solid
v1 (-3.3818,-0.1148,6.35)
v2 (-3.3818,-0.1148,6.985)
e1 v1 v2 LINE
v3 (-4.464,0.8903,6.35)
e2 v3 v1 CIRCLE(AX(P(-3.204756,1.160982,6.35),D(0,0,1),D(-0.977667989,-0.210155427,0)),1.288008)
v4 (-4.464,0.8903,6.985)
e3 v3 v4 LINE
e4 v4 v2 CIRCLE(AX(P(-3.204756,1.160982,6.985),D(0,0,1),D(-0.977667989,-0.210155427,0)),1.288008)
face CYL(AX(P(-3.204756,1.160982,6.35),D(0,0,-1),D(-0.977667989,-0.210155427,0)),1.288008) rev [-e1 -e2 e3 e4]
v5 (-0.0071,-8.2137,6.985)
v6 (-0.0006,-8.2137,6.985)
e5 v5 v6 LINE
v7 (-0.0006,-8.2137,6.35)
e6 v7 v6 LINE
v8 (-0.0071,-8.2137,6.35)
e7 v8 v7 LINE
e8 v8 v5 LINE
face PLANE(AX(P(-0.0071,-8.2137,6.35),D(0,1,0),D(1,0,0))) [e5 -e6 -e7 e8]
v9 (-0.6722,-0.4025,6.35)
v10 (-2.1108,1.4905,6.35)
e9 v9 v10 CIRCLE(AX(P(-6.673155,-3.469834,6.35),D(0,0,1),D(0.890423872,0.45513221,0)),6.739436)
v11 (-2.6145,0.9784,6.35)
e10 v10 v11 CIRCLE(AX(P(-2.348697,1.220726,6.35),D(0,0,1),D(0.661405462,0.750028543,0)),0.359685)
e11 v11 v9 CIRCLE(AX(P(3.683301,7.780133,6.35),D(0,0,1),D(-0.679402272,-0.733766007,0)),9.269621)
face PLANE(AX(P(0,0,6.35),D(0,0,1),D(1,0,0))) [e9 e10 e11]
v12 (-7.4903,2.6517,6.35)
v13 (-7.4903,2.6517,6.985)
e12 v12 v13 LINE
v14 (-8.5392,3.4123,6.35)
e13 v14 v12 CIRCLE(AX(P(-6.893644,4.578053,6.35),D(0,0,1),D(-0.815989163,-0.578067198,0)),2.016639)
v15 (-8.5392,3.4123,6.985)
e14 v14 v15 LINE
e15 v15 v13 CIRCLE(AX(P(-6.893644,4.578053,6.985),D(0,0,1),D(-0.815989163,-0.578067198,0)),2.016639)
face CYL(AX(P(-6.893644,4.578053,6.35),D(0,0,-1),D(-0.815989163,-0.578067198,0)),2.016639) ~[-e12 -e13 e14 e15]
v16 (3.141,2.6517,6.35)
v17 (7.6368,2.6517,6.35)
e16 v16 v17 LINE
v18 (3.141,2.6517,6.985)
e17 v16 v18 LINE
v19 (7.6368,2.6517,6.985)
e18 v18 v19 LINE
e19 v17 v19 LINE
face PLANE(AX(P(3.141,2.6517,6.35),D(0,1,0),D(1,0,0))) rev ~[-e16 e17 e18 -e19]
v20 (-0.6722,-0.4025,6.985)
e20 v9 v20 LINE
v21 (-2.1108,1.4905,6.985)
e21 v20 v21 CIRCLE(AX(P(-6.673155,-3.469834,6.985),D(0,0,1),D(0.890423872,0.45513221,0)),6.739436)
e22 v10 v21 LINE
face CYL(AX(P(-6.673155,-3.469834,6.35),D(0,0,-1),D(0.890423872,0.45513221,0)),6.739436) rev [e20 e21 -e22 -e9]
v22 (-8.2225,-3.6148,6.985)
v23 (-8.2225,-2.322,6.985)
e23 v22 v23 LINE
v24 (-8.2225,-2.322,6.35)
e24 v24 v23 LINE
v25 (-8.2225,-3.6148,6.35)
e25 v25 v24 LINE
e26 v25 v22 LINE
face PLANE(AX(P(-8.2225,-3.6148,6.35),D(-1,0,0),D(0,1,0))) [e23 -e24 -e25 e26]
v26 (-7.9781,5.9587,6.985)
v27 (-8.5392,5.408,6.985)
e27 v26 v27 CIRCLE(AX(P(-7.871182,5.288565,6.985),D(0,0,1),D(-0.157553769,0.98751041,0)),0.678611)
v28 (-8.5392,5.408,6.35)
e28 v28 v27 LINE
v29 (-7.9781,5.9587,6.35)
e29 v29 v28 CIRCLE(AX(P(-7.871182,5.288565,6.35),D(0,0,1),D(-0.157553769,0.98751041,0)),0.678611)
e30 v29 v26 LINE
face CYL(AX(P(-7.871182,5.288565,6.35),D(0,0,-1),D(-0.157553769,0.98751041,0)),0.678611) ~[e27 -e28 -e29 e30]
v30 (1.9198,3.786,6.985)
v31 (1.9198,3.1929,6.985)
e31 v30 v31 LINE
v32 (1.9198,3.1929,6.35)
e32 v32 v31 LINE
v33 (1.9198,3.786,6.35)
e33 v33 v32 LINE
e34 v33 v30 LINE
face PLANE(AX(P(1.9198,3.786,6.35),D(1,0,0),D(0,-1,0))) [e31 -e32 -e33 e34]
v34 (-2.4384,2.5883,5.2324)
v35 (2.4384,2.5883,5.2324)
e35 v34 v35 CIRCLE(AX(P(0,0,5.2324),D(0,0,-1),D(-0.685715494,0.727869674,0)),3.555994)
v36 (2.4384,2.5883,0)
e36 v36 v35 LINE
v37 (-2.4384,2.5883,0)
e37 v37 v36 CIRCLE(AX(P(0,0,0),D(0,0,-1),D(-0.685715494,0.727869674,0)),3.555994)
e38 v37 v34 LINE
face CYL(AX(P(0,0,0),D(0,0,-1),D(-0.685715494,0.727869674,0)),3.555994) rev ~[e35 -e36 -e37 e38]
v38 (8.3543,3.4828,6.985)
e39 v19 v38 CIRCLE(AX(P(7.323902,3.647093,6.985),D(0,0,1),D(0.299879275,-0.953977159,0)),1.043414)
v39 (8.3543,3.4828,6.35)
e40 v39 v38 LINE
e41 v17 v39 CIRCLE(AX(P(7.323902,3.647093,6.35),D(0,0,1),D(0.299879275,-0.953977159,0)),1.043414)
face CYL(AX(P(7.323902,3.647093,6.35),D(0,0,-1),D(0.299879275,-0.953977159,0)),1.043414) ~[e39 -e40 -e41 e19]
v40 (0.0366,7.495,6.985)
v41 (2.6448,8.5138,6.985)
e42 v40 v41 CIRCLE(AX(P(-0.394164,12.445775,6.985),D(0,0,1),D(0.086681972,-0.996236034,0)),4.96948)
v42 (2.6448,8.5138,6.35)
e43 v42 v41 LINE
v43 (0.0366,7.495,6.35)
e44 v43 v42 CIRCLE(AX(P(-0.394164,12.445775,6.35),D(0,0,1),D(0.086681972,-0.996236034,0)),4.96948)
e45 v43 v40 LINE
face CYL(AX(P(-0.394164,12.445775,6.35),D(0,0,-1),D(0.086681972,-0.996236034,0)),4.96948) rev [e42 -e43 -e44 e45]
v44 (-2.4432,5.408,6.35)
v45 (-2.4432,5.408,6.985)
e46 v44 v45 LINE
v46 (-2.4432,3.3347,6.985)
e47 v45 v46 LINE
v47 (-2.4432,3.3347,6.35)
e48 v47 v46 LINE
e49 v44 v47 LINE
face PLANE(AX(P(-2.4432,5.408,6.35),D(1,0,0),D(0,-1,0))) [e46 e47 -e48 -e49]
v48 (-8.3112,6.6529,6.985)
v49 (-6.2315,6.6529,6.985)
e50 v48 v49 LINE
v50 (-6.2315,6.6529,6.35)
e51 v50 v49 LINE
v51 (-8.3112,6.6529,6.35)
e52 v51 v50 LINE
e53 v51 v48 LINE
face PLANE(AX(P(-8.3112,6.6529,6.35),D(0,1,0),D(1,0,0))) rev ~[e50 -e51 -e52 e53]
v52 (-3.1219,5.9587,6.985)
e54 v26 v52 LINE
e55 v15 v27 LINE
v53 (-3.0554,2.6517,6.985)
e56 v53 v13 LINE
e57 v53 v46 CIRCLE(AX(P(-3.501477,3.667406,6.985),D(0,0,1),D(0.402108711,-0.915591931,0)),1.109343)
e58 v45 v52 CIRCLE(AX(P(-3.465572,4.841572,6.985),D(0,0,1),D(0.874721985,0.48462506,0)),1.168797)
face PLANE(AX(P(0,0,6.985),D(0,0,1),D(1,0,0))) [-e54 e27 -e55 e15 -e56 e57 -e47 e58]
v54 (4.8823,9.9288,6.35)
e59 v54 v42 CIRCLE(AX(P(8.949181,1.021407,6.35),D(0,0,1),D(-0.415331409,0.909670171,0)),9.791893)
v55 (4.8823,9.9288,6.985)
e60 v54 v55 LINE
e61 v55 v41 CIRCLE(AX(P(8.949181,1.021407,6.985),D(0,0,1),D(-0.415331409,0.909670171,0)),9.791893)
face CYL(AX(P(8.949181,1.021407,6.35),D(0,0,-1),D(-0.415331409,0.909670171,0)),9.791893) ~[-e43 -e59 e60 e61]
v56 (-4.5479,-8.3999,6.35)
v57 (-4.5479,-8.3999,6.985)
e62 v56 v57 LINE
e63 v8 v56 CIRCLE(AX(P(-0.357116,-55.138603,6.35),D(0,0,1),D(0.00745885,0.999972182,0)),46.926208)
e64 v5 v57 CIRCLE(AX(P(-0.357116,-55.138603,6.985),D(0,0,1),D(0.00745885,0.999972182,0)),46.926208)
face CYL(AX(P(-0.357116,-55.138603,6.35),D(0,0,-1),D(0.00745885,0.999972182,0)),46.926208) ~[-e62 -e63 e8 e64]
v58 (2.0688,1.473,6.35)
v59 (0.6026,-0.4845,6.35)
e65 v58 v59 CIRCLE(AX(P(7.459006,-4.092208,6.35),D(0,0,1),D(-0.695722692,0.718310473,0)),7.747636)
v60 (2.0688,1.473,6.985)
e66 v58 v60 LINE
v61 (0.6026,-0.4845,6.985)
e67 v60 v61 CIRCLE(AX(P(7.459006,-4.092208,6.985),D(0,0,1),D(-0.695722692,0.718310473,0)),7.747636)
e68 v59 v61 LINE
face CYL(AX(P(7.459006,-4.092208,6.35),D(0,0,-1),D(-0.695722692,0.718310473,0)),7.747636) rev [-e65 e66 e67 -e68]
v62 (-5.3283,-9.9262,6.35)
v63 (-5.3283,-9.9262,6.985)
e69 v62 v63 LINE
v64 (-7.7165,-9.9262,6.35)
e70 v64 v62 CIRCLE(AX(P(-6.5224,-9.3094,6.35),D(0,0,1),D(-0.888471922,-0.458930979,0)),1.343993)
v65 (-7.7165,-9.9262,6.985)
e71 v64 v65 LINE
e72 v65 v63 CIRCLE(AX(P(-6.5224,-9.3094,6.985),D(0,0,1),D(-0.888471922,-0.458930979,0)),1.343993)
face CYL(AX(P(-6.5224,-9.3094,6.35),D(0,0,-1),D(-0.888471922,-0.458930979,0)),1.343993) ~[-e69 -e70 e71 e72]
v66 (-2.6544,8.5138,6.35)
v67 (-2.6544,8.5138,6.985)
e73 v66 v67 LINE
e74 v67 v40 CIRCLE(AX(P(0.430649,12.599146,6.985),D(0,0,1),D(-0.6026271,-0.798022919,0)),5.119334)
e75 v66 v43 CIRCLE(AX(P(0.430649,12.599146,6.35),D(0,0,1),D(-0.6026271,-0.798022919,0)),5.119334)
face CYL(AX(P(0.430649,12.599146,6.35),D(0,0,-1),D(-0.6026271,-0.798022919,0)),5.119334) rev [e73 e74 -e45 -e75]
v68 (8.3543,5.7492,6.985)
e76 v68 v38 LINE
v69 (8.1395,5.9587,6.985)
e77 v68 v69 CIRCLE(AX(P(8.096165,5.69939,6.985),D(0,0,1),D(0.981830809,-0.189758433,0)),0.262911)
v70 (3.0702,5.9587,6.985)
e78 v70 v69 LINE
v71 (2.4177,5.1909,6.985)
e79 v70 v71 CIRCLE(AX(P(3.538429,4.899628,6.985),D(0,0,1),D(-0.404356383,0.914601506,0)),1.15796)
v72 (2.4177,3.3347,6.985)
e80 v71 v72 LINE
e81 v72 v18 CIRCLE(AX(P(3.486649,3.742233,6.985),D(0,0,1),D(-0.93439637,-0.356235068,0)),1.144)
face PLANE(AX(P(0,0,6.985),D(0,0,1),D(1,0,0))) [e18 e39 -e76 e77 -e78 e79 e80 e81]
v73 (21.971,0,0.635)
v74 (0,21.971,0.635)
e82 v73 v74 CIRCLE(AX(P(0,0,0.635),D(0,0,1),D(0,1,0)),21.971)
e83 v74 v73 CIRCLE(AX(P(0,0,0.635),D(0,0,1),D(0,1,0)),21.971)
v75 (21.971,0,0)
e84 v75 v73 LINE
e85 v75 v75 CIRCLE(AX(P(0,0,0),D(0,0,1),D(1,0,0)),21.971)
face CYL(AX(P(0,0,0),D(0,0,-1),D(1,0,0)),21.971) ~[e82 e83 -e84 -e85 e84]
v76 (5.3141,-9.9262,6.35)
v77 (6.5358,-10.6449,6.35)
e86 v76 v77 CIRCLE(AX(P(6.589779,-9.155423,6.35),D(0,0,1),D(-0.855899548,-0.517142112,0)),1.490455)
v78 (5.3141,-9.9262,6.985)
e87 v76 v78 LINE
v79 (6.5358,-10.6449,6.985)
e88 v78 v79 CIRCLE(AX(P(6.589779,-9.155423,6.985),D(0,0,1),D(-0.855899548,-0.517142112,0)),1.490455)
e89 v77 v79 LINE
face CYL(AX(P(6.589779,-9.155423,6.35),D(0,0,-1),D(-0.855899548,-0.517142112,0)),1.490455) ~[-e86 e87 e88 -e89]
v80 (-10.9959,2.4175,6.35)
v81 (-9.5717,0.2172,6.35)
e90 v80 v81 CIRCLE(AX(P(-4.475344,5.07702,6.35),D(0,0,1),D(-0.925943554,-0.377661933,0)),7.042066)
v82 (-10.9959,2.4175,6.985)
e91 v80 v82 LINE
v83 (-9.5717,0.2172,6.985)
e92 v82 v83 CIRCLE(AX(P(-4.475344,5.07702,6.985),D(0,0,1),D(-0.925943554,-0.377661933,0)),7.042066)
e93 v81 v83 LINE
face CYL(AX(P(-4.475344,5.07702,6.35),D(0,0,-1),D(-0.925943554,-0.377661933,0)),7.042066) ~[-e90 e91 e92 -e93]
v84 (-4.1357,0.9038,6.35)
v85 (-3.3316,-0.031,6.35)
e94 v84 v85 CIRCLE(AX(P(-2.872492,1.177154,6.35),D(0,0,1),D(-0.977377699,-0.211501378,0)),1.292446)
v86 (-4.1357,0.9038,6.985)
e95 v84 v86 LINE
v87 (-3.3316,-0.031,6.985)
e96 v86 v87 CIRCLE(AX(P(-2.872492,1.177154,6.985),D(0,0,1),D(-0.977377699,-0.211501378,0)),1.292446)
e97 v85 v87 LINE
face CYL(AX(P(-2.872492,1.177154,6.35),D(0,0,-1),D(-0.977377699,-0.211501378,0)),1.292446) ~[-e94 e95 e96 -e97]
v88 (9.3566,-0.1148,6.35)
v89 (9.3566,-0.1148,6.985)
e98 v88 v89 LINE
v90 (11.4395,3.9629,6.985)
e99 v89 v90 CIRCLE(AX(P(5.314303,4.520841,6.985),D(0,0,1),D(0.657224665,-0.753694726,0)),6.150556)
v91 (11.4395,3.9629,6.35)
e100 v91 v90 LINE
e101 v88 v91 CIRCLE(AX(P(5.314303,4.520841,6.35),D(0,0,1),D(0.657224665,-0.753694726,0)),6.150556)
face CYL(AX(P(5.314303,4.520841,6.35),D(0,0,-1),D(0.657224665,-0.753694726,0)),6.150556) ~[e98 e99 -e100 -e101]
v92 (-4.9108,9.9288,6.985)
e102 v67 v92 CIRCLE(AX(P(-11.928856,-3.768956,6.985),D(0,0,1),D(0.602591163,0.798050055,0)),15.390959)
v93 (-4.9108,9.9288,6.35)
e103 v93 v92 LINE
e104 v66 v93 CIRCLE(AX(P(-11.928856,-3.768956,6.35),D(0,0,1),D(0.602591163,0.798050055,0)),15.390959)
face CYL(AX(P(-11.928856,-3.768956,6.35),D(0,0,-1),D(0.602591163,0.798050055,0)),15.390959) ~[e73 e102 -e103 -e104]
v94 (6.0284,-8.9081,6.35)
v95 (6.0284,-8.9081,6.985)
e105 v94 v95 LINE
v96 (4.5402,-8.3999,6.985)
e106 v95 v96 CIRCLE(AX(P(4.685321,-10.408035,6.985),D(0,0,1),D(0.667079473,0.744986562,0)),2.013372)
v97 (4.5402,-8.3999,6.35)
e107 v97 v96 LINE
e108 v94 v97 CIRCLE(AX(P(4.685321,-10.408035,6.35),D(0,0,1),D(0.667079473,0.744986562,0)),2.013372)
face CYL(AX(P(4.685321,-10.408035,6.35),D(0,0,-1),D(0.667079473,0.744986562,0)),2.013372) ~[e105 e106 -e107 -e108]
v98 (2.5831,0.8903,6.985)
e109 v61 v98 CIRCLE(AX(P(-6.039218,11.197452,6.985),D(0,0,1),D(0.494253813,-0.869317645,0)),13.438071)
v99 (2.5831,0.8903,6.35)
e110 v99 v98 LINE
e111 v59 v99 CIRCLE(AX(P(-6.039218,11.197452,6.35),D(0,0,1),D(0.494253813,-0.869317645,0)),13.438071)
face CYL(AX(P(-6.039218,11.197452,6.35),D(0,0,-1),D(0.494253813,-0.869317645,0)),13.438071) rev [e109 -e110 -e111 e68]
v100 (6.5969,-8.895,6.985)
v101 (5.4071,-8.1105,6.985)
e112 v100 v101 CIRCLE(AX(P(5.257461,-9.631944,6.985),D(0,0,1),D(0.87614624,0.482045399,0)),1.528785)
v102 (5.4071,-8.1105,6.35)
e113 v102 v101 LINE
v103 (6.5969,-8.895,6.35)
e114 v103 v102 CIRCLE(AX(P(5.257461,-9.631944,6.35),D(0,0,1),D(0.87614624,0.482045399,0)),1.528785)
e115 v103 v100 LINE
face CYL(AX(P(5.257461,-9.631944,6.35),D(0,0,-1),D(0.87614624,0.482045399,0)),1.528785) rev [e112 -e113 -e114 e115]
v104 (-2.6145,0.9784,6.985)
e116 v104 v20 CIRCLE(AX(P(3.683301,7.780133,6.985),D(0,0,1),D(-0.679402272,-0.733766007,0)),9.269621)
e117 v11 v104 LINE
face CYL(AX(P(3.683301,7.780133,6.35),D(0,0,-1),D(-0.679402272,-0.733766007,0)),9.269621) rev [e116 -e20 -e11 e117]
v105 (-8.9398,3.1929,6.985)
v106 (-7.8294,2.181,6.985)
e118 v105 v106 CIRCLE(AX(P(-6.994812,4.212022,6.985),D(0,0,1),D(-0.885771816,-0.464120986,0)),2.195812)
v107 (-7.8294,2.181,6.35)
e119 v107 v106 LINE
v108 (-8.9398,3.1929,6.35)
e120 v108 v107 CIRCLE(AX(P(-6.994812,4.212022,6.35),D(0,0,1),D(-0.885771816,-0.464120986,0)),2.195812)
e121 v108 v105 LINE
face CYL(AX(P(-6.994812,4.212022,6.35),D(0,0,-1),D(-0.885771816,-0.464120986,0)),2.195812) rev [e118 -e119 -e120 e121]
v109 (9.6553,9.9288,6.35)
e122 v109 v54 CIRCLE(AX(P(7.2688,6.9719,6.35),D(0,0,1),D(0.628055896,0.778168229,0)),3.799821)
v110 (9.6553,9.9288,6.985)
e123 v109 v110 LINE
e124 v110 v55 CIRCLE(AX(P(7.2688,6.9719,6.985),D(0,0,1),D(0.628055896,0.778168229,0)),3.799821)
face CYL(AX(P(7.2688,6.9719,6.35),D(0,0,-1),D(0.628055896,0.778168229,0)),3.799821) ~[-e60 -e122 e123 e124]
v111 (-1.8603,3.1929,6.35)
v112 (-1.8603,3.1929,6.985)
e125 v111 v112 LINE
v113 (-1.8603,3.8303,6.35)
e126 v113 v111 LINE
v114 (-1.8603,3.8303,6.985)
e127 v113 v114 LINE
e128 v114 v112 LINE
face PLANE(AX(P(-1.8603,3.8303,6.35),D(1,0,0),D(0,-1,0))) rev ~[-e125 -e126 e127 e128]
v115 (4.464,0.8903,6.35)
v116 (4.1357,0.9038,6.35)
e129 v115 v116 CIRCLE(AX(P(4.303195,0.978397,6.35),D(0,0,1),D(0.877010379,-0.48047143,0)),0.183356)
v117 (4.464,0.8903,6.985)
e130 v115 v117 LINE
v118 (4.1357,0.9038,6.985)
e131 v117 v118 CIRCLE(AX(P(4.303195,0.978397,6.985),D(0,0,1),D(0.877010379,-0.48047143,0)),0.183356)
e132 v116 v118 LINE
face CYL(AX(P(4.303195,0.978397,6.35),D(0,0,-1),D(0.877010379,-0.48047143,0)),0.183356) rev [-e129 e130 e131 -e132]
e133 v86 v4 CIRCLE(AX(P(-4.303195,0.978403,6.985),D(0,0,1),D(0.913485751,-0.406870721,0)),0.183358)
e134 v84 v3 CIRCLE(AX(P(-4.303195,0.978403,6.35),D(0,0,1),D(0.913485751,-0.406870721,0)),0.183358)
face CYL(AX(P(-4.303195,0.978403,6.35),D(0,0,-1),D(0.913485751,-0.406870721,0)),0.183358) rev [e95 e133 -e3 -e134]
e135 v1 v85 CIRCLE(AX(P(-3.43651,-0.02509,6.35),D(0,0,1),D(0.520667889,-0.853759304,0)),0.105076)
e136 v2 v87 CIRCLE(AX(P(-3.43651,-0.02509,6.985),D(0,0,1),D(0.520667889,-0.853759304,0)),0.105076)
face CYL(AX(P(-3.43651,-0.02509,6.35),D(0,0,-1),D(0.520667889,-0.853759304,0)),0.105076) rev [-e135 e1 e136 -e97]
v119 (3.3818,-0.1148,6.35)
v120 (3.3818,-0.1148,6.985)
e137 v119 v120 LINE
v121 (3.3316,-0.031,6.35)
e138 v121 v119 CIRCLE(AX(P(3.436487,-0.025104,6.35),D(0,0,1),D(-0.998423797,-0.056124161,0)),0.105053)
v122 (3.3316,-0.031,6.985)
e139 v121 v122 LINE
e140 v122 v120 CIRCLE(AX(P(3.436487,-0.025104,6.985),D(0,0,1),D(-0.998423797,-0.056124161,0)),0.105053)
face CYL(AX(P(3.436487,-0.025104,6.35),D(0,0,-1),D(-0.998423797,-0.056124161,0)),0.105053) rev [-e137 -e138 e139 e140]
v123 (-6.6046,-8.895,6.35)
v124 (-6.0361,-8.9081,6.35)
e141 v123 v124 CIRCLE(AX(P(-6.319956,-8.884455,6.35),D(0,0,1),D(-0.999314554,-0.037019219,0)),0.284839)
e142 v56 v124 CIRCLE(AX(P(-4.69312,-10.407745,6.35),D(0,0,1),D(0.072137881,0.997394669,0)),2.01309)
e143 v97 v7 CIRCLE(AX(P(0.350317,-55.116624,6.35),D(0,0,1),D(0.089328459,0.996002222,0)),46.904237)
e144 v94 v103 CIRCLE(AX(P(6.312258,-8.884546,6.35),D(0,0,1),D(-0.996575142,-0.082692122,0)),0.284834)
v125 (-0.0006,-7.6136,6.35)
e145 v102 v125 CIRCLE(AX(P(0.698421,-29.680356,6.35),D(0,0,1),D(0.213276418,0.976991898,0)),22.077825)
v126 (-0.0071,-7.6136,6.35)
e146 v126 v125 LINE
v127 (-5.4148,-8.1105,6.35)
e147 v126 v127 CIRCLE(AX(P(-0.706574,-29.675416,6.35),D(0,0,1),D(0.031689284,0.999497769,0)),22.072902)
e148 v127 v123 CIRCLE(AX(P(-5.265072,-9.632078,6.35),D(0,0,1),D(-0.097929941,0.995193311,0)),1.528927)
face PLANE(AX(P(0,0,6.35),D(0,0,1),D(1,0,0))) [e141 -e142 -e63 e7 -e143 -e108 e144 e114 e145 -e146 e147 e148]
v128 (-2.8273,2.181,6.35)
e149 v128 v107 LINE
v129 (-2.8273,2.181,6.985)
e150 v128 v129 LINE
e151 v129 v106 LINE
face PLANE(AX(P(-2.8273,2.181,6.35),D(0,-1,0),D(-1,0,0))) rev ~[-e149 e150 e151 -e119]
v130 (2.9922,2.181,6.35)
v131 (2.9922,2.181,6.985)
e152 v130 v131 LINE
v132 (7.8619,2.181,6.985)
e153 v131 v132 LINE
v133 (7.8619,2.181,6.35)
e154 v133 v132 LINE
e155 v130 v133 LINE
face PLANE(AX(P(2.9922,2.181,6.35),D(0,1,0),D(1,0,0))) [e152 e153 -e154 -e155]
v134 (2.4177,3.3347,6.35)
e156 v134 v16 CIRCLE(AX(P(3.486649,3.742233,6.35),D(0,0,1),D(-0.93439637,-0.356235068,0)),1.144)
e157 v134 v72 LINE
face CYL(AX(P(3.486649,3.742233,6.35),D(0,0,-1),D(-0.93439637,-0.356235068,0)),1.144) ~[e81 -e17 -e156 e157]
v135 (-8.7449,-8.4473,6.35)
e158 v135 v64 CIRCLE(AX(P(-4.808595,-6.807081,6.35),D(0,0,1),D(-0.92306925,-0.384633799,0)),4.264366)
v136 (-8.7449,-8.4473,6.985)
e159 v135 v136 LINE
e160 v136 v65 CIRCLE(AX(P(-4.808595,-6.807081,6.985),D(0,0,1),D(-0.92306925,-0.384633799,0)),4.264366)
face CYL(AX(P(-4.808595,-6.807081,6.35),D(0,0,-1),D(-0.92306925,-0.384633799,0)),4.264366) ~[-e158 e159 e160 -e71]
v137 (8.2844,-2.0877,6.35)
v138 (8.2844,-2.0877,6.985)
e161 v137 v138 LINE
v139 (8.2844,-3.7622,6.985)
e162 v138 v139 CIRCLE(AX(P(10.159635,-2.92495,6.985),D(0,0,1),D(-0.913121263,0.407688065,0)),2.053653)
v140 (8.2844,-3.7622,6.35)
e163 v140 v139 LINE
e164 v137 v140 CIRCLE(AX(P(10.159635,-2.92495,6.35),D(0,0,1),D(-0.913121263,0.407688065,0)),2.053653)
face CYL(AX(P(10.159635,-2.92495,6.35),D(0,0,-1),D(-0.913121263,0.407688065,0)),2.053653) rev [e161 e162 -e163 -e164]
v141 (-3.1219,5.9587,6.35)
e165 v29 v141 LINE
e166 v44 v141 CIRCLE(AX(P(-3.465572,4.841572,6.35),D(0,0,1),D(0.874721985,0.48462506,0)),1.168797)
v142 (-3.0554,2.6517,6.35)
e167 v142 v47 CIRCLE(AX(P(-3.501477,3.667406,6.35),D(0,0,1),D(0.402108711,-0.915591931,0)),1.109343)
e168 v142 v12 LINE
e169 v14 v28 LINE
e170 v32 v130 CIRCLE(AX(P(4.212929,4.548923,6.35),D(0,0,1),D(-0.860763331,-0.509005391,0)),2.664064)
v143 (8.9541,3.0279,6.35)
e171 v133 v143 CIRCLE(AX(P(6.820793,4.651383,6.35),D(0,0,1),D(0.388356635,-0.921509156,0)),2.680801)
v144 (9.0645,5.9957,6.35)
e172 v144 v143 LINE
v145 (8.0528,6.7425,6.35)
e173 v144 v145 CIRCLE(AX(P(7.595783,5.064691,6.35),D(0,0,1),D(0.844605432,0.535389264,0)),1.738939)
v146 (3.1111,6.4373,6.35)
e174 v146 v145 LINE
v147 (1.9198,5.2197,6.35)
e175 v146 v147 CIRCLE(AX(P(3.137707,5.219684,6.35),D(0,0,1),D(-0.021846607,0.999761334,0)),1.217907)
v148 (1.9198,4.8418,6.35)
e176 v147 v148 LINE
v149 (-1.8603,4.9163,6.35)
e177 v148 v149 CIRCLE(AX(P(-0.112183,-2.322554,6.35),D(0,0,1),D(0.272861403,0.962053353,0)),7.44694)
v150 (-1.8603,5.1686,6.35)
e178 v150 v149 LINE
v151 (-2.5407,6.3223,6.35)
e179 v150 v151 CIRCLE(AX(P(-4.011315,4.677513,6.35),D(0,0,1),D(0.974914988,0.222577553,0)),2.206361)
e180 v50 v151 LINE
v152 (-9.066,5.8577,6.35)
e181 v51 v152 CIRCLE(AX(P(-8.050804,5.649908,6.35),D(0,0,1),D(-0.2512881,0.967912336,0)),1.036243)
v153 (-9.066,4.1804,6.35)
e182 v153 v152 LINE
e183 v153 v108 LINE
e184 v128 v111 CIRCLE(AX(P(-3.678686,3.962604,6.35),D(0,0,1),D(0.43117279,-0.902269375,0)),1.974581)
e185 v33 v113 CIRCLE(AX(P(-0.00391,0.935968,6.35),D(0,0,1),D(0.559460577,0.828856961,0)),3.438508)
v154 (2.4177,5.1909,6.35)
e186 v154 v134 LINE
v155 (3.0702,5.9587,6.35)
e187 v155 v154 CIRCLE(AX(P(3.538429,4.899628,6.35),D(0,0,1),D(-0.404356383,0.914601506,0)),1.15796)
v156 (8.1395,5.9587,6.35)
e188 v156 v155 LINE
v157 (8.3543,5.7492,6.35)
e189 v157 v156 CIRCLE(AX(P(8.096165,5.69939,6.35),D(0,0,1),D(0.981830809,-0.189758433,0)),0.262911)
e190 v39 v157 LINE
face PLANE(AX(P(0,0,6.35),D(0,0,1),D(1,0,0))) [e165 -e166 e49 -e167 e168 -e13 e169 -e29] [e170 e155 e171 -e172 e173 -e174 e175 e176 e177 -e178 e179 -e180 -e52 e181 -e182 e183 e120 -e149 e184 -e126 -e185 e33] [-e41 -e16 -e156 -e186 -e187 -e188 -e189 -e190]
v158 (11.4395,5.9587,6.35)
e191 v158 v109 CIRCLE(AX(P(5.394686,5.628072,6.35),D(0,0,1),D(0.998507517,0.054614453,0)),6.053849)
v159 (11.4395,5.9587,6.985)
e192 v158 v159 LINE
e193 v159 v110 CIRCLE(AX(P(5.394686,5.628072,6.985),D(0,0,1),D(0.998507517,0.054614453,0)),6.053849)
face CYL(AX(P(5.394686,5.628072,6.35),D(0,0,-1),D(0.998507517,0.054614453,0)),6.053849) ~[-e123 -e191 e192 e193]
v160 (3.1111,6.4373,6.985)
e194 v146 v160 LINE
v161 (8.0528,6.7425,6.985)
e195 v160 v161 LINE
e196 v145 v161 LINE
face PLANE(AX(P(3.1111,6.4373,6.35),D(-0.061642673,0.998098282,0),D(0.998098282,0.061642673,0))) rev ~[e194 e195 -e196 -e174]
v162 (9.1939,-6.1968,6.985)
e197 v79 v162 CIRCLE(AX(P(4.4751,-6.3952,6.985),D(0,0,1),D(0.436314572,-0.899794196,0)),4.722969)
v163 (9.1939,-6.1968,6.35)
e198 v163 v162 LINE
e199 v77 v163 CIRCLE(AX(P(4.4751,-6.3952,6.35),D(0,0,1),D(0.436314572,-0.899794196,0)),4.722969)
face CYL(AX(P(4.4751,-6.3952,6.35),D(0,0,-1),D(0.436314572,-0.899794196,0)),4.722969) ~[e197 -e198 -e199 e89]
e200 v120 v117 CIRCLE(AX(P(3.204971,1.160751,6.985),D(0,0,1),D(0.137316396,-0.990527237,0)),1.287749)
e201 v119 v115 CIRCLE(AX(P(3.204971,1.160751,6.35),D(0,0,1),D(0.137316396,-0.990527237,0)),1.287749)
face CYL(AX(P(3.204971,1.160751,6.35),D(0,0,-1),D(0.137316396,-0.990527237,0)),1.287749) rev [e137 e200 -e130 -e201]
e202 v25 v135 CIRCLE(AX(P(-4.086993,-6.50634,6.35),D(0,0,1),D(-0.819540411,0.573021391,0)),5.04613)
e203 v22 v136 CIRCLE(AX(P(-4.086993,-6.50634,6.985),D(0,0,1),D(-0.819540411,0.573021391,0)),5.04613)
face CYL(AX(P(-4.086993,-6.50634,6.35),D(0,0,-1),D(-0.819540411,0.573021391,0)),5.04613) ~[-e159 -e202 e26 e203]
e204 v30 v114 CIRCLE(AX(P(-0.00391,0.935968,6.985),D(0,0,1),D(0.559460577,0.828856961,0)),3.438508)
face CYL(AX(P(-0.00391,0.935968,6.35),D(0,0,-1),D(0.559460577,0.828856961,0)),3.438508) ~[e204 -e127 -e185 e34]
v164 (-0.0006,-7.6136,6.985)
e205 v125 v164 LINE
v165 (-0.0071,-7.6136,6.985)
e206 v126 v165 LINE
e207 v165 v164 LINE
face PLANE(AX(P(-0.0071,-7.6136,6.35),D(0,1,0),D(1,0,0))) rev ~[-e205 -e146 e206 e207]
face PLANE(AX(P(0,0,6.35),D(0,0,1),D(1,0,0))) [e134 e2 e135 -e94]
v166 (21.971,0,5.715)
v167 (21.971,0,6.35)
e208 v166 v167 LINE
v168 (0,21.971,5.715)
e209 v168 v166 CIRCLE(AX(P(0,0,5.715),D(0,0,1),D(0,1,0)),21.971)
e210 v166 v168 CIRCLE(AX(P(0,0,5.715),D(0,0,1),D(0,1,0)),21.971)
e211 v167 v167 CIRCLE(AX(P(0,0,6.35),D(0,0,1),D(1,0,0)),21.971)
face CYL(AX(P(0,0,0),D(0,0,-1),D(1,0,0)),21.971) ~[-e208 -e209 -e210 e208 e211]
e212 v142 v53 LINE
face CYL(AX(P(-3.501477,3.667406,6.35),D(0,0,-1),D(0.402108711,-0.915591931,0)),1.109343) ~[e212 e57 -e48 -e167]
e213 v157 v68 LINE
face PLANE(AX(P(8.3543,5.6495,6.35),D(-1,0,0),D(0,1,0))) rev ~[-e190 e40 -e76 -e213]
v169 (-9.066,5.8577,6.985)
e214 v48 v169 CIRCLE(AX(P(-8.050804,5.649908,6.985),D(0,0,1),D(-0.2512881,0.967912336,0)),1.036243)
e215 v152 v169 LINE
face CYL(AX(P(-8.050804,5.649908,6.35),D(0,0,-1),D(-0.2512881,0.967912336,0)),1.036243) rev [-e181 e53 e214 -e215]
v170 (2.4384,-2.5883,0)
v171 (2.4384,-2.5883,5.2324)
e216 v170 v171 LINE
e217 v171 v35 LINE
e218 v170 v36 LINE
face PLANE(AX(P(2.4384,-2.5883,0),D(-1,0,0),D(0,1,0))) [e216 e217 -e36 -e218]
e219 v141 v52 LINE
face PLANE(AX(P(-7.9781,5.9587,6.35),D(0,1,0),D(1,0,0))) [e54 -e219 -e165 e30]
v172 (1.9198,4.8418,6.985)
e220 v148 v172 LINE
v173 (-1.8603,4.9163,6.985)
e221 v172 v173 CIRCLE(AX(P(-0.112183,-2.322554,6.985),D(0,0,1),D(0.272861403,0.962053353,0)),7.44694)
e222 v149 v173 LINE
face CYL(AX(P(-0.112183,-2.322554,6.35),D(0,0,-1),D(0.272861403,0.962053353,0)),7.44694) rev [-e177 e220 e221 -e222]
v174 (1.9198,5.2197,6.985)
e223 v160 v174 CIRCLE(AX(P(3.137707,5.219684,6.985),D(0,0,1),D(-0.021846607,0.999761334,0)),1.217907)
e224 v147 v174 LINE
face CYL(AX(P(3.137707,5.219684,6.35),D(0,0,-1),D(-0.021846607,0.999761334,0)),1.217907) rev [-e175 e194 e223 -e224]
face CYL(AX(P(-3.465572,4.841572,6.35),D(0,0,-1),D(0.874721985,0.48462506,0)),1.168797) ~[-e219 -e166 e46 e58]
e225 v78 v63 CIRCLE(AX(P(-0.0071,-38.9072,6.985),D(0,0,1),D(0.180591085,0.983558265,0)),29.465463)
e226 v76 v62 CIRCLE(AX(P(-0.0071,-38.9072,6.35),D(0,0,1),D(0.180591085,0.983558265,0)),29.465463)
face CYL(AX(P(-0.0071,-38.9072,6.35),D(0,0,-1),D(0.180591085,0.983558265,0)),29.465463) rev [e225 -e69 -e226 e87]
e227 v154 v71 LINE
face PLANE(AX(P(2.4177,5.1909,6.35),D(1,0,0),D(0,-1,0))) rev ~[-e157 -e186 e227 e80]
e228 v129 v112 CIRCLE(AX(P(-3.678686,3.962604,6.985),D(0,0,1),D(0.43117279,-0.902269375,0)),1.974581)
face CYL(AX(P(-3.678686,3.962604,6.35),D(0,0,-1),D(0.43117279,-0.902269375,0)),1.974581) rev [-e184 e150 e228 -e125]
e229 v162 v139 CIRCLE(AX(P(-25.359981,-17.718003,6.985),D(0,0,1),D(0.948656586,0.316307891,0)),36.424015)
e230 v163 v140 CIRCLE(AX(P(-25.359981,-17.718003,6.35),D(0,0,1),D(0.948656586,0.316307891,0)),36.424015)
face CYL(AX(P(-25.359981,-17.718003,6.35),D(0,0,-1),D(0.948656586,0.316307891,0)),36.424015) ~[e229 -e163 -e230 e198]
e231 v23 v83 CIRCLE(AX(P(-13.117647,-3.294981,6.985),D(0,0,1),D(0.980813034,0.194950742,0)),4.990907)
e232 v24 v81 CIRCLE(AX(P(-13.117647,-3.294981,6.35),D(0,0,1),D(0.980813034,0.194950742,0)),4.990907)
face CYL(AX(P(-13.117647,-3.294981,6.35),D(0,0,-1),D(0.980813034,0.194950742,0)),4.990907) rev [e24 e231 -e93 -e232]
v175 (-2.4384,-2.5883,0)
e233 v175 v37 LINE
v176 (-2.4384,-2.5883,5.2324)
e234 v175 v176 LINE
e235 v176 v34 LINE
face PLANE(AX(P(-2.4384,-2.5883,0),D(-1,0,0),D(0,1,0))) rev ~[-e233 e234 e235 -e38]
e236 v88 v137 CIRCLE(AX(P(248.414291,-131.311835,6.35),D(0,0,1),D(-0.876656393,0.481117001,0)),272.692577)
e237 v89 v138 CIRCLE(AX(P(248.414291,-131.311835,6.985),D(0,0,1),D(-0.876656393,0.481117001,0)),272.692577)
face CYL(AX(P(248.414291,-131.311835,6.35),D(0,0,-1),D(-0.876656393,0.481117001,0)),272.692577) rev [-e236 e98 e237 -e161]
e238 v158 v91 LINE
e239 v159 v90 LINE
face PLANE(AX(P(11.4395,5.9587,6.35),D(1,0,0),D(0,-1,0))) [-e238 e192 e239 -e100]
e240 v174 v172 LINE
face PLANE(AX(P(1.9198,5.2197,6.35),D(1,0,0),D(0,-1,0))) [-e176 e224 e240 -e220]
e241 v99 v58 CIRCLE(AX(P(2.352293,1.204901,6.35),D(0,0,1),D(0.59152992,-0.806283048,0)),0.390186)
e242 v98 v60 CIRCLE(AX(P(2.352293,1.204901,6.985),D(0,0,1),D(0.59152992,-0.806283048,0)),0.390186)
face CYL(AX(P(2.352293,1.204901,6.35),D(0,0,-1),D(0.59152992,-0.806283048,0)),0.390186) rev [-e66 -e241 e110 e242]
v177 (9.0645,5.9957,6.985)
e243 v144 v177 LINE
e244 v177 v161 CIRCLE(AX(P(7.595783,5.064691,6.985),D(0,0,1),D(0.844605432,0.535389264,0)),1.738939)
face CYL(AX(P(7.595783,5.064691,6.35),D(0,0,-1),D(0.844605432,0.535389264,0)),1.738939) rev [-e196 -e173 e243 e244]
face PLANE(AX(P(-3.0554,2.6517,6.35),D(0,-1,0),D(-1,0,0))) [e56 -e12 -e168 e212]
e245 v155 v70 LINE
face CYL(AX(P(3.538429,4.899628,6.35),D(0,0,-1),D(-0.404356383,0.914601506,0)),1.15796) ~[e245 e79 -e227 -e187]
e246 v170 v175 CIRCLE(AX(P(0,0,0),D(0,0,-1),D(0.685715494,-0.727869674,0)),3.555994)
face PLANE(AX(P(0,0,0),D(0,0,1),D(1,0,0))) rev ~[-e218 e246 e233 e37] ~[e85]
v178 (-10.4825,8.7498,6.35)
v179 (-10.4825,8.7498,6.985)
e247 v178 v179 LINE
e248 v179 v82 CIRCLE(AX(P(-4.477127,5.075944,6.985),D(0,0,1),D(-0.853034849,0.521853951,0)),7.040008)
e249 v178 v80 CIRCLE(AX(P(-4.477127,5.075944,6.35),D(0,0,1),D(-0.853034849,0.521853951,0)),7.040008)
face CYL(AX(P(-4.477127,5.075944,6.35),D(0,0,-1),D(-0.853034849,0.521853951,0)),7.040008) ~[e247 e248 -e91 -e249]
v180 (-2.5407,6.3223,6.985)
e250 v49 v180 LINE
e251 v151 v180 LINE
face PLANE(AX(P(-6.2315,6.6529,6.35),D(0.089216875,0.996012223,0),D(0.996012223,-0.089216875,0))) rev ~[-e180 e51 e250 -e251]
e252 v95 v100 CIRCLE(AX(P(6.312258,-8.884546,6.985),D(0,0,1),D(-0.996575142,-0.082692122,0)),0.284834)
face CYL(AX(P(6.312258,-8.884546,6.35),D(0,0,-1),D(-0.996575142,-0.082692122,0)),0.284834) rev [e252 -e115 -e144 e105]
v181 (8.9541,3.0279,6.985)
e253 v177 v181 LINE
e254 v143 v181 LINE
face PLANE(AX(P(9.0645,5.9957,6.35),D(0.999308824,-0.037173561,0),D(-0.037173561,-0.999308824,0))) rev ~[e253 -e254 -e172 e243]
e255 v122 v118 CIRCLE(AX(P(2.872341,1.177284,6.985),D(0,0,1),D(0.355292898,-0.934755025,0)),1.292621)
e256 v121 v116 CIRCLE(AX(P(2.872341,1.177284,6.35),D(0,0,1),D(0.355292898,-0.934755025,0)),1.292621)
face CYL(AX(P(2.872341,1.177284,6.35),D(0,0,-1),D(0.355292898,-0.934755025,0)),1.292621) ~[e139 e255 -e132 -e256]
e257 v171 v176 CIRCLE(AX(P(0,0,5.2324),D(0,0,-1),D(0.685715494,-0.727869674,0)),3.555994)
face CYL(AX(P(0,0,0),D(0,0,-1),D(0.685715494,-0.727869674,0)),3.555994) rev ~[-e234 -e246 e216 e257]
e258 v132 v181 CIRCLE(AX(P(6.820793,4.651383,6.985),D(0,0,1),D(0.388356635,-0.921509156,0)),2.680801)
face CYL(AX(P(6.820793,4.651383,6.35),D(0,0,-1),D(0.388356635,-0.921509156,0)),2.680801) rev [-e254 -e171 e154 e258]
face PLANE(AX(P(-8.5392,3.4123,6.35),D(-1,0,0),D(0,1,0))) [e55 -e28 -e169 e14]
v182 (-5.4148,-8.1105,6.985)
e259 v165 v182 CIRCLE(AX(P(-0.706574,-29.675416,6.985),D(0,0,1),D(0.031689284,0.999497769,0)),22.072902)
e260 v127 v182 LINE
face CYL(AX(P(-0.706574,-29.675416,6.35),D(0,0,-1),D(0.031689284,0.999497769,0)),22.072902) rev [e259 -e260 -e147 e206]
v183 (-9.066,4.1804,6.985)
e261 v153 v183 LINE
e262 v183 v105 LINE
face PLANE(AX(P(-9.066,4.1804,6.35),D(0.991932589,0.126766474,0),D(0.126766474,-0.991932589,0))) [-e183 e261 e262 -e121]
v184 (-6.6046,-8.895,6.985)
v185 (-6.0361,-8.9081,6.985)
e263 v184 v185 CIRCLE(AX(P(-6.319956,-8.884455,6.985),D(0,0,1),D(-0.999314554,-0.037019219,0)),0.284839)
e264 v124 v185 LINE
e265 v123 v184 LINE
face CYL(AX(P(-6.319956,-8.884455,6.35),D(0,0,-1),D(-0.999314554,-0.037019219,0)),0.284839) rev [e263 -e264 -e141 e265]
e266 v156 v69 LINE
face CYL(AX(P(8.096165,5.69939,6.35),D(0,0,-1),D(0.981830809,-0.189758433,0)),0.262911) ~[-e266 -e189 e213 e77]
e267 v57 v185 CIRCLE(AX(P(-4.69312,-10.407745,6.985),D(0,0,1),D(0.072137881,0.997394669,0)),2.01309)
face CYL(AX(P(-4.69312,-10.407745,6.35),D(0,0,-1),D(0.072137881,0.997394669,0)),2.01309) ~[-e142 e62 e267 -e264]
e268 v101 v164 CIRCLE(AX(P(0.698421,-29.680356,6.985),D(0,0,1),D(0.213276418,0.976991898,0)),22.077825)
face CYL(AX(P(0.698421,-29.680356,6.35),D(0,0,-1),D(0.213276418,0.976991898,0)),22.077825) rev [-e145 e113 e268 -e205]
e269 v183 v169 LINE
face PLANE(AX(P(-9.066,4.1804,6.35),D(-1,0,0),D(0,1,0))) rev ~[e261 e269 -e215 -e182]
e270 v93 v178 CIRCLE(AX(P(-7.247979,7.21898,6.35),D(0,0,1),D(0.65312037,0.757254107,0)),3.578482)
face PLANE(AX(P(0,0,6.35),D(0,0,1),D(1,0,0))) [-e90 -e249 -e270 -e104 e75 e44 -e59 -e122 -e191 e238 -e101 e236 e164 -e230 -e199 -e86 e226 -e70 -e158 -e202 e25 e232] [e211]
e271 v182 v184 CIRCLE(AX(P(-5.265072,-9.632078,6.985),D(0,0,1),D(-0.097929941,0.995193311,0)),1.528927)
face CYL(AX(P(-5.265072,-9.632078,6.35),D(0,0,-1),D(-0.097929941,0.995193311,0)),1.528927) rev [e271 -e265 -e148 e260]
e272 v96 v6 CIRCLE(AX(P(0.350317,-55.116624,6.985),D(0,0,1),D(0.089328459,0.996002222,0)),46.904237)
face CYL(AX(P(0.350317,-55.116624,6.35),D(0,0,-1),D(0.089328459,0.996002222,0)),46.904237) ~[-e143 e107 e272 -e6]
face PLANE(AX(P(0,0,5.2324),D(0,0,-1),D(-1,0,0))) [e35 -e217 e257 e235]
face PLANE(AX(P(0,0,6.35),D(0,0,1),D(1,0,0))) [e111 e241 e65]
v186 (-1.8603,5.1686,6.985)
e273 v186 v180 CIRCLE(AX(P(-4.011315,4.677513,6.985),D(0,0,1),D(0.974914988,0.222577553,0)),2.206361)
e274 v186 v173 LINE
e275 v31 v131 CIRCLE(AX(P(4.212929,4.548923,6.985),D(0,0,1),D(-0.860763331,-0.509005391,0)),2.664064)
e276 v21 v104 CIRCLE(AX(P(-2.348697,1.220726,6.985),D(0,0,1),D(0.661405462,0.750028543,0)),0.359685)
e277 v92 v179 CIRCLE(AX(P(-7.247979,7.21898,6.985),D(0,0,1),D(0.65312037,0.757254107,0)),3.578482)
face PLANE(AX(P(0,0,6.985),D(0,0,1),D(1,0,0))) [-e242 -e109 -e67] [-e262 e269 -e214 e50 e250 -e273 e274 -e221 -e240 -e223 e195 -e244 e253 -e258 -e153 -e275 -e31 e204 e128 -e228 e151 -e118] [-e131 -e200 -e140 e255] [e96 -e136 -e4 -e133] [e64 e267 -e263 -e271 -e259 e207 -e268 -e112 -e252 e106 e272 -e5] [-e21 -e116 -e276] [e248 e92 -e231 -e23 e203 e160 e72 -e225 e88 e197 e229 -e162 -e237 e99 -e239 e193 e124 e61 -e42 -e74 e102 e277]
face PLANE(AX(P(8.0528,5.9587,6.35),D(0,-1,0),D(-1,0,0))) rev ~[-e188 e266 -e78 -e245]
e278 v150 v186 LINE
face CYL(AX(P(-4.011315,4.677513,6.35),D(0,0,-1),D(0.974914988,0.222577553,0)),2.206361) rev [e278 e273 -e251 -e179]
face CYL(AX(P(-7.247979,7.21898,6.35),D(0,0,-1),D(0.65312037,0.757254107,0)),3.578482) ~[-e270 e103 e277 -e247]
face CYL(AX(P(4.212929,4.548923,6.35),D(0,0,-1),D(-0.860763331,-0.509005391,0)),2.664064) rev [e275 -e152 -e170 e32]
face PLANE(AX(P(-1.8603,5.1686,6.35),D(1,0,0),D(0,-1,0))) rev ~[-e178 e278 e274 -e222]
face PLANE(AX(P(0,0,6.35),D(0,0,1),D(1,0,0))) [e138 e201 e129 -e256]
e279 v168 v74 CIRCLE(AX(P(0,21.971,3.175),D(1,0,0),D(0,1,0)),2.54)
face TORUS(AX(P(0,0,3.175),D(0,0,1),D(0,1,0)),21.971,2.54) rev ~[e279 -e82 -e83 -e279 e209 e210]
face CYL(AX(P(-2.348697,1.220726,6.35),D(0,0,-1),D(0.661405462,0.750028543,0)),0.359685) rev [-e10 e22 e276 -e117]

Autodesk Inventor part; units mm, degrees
ref_plane "XZ Plane" through (0, 0, 0) normal (0, 1, 0) x (-1, 0, 0)
ref_plane "XY Plane" through (0, 0, 0) normal (0, 0, 1) x (1, 0, 0)
sketch "Sketch1" plane through (0, 0, 0) normal (0, 0, 1) x (1, 0, 0)
  circle A0 centre (0, 0) radius 21.971
  dimension "d0" = 43.942
extrude "Extrusion1" add sketch "Sketch1" along normal blind 6.35
sketch "Sketch3" plane through (0, 0, 0) normal (1, 0, 0) x (0, 1, 0)
  line L0 (21.971, 0) -> (21.971, 6.35) projected
  circle A0 centre (21.971, 3.175) radius 2.54
  line L1 (0, -1.27) -> (0, 7.62) projected
  point P0 (0, 0)
  dimension "d37" = 5.08
revolve "Revolution1" cut sketch "Sketch3" angle 360 about axis through (0, 0, -10) along (0, 0, 1)
sketch "Sketch4" plane through (0, 0, 0) normal (0, 0, -1) x (-1, 0, 0)
  line L0 (2.4384, -2.5883) -> (2.4384, 2.5883)
  line L1 (-2.4384, -2.5883) -> (-2.4384, 2.5883)
  arc A0 (2.4384, 2.5883) -> (-2.4384, 2.5883) centre (0, 0) ccw
  arc A1 (-2.4384, -2.5883) -> (2.4384, -2.5883) centre (0, 0) ccw
  dimension "d44" = 4.8768
  dimension "d45" = 3.556
  dimension "d46" = 5.1766
  dimension "d47" = 2.4384
extrude "Extrusion3" cut sketch "Sketch4" against normal blind 5.2324
sketch "Sketch6" plane through (0, 0, 6.35) normal (0, 0, 1) x (1, 0, 0)
  line L0 (-7.9781, 5.9587) -> (-3.1219, 5.9587)
  line L1 (-2.4432, 5.408) -> (-2.4432, 3.3347)
  line L2 (-3.0554, 2.6517) -> (-7.4903, 2.6517)
  line L3 (-8.5392, 3.4123) -> (-8.5392, 5.408)
  line L4 (8.1395, 5.9587) -> (3.0702, 5.9587)
  line L5 (2.4177, 5.1909) -> (2.4177, 3.3347)
  line L6 (3.141, 2.6517) -> (7.6368, 2.6517)
  line L7 (8.3543, 3.4828) -> (8.3543, 5.7492)
  arc A0 (-7.9781, 5.9587) -> (-8.5392, 5.408) centre (-7.8712, 5.2886) ccw
  arc A1 (-2.4432, 5.408) -> (-3.1219, 5.9587) centre (-3.4653, 4.8418) ccw
  arc A2 (-3.0554, 2.6517) -> (-2.4432, 3.3347) centre (-3.5014, 3.6673) ccw
  arc A3 (-8.5392, 3.4123) -> (-7.4903, 2.6517) centre (-6.8939, 4.5778) ccw
  arc A4 (3.0702, 5.9587) -> (2.4177, 5.1909) centre (3.5383, 4.8998) ccw
  arc A5 (8.3543, 5.6495) -> (8.0528, 5.9587) centre (8.0962, 5.6994) ccw
  arc A6 (7.6368, 2.6517) -> (8.3543, 3.4828) centre (7.3237, 3.6474) ccw
  arc A7 (2.4177, 3.3347) -> (3.141, 2.6517) centre (3.4866, 3.7422) ccw
  line L8 (-2.8273, 2.181) -> (-7.8294, 2.181)
  line L9 (-9.066, 4.1804) -> (-9.066, 5.8577)
  arc A8 (-8.3112, 6.6529) -> (-9.066, 5.8577) centre (-8.0508, 5.6499) ccw
  arc A9 (-1.8603, 5.1686) -> (-2.5407, 6.3223) centre (-4.0116, 4.6774) ccw
  arc A10 (-8.9398, 3.1929) -> (-7.8294, 2.181) centre (-6.9951, 4.2118) ccw
  arc A11 (-2.8273, 2.181) -> (-1.8603, 3.1929) centre (-3.6789, 3.9629) ccw
  line L10 (-9.066, 4.1804) -> (-8.9398, 3.1929)
  line L11 (-6.2315, 6.6529) -> (-2.5407, 6.3223)
  line L12 (-8.3112, 6.6529) -> (-6.2315, 6.6529)
  line L13 (2.9922, 2.181) -> (7.8619, 2.181)
  arc A12 (3.1111, 6.4373) -> (1.9198, 5.2197) centre (3.1377, 5.2197) ccw
  arc A13 (9.0645, 5.9957) -> (8.0528, 6.7425) centre (7.5959, 5.0648) ccw
  arc A14 (7.8619, 2.181) -> (8.9541, 3.0279) centre (6.8209, 4.6512) ccw
  arc A15 (1.9198, 3.1929) -> (2.9922, 2.181) centre (4.2129, 4.5489) ccw
  line L14 (3.1111, 6.4373) -> (8.0528, 6.7425)
  line L15 (9.0645, 5.9957) -> (8.9541, 3.0279)
  arc A16 (1.9198, 4.8418) -> (-1.8603, 4.9163) centre (-0.1121, -2.322) ccw
  arc A17 (1.9198, 3.786) -> (-1.8603, 3.8303) centre (-0.0039, 0.936) ccw
  line L16 (-1.8603, 5.1686) -> (-1.8603, 4.9163)
  line L17 (-1.8603, 3.8303) -> (-1.8603, 3.1929)
  line L18 (1.9198, 5.2197) -> (1.9198, 4.8418)
  line L19 (1.9198, 3.786) -> (1.9198, 3.1929)
  arc A18 (-4.1357, 0.9038) -> (-4.464, 0.8903) centre (-4.3032, 0.9784) ccw
  arc A19 (-4.1357, 0.9038) -> (-3.3316, -0.031) centre (-2.8724, 1.1772) ccw
  arc A20 (-4.464, 0.8903) -> (-3.3818, -0.1148) centre (-3.2049, 1.1609) ccw
  arc A21 (-3.3818, -0.1148) -> (-3.3316, -0.031) centre (-3.4365, -0.0251) ccw
  arc A22 (-2.1108, 1.4905) -> (-2.6145, 0.9784) centre (-2.3487, 1.2208) ccw
  arc A23 (-2.6145, 0.9784) -> (-0.6722, -0.4025) centre (3.6836, 7.7805) ccw
  arc A24 (-0.6722, -0.4025) -> (-2.1108, 1.4905) centre (-6.6731, -3.4698) ccw
  arc A25 (2.5831, 0.8903) -> (2.0688, 1.473) centre (2.3523, 1.2049) ccw
  arc A26 (2.0688, 1.473) -> (0.6026, -0.4845) centre (7.4607, -4.0937) ccw
  arc A27 (0.6026, -0.4845) -> (2.5831, 0.8903) centre (-6.0361, 11.1925) ccw
  arc A28 (4.464, 0.8903) -> (4.1357, 0.9038) centre (4.3032, 0.9784) ccw
  arc A29 (3.3316, -0.031) -> (4.1357, 0.9038) centre (2.8724, 1.1772) ccw
  arc A30 (3.3818, -0.1148) -> (4.464, 0.8903) centre (3.2049, 1.1609) ccw
  arc A31 (3.3316, -0.031) -> (3.3818, -0.1148) centre (3.4365, -0.0251) ccw
  arc A32 (-10.4825, 8.7498) -> (-10.9959, 2.4175) centre (-4.4773, 5.076) ccw
  arc A33 (-4.9108, 9.9288) -> (-10.4825, 8.7498) centre (-7.248, 7.2189) ccw
  arc A34 (-2.6544, 8.5138) -> (-4.9108, 9.9288) centre (-11.9242, -3.7622) ccw
  arc A35 (-2.6544, 8.5138) -> (0.0366, 7.495) centre (0.4309, 12.5996) ccw
  arc A36 (0.0366, 7.495) -> (2.6448, 8.5138) centre (-0.3941, 12.4455) ccw
  arc A37 (4.8823, 9.9288) -> (2.6448, 8.5138) centre (8.9507, 1.0186) ccw
  arc A38 (9.6553, 9.9288) -> (4.8823, 9.9288) centre (7.2688, 6.9719) ccw
  arc A39 (11.4395, 5.9587) -> (9.6553, 9.9288) centre (5.3948, 5.6281) ccw
  line L20 (11.4395, 5.9587) -> (11.4395, 3.9629)
  arc A40 (9.3566, -0.1148) -> (11.4395, 3.9629) centre (5.3141, 4.521) ccw
  arc A41 (9.3566, -0.1148) -> (8.2844, -2.0877) centre (249.5341, -131.9234) ccw
  arc A42 (8.2844, -2.0877) -> (8.2844, -3.7622) centre (10.1594, -2.9249) ccw
  arc A43 (9.1939, -6.1968) -> (8.2844, -3.7622) centre (-25.3645, -17.7196) ccw
  arc A44 (6.5358, -10.6449) -> (9.1939, -6.1968) centre (4.4751, -6.3952) ccw
  arc A45 (5.3141, -9.9262) -> (6.5358, -10.6449) centre (6.59, -9.1552) ccw
  arc A46 (5.3141, -9.9262) -> (-5.3283, -9.9262) centre (-0.0071, -38.9072) ccw
  arc A47 (-7.7165, -9.9262) -> (-5.3283, -9.9262) centre (-6.5224, -9.3094) ccw
  arc A48 (-8.7449, -8.4473) -> (-7.7165, -9.9262) centre (-4.8079, -6.8067) ccw
  arc A49 (-8.2225, -3.6148) -> (-8.7449, -8.4473) centre (-4.0871, -6.5063) ccw
  line L21 (-8.2225, -3.6148) -> (-8.2225, -2.322)
  arc A50 (-10.9959, 2.4175) -> (-9.5717, 0.2172) centre (-4.4773, 5.076) ccw
  arc A51 (-8.2225, -2.322) -> (-9.5717, 0.2172) centre (-13.1177, -3.295) ccw
  arc A52 (-6.6046, -8.895) -> (-6.0361, -8.9081) centre (-6.32, -8.8845) ccw
  arc A53 (-5.4148, -8.1105) -> (-6.6046, -8.895) centre (-5.2651, -9.632) ccw
  arc A54 (-0.0071, -7.6136) -> (-5.4148, -8.1105) centre (-0.7065, -29.6779) ccw
  arc A55 (-4.5479, -8.3999) -> (-6.0361, -8.9081) centre (-4.6931, -10.4079) ccw
  arc A56 (-0.0071, -8.2137) -> (-4.5479, -8.3999) centre (-0.3573, -55.1276) ccw
  line L22 (-0.0039, 0.936) -> (-0.0039, -3.295)
  arc A57 (6.0284, -8.9081) -> (6.5969, -8.895) centre (6.3123, -8.8845) ccw
  arc A58 (6.5969, -8.895) -> (5.4071, -8.1105) centre (5.2574, -9.632) ccw
  arc A59 (5.4071, -8.1105) -> (-0.0006, -7.6136) centre (0.6988, -29.6779) ccw
  arc A60 (6.0284, -8.9081) -> (4.5402, -8.3999) centre (4.6854, -10.4079) ccw
  arc A61 (4.5402, -8.3999) -> (-0.0006, -8.2137) centre (0.3496, -55.1276) ccw
  line L23 (-0.0071, -7.6136) -> (-0.0006, -7.6136)
  line L24 (-0.0071, -8.2137) -> (-0.0006, -8.2137)
  point P0 (0, 0)
  point P1 (6.5147, -9.3094)
  point P2 (4.8002, -6.8067)
  point P3 (4.0794, -6.5063)
extrude "Extrusion4" add sketch "Sketch6" along normal blind 0.635 contours L0 A1 L1 A2 L2 A3 L3 A0 | A5 L7 A6 L6 A7 L5 A4 L4 | A33 A34 A35 A36 A37 A38 A39 L20 A40 A41 A42 A43 A44 A45 A46 A47 A48 A49 L21 A51 A50 A32
properties part number "winston_wheels"
